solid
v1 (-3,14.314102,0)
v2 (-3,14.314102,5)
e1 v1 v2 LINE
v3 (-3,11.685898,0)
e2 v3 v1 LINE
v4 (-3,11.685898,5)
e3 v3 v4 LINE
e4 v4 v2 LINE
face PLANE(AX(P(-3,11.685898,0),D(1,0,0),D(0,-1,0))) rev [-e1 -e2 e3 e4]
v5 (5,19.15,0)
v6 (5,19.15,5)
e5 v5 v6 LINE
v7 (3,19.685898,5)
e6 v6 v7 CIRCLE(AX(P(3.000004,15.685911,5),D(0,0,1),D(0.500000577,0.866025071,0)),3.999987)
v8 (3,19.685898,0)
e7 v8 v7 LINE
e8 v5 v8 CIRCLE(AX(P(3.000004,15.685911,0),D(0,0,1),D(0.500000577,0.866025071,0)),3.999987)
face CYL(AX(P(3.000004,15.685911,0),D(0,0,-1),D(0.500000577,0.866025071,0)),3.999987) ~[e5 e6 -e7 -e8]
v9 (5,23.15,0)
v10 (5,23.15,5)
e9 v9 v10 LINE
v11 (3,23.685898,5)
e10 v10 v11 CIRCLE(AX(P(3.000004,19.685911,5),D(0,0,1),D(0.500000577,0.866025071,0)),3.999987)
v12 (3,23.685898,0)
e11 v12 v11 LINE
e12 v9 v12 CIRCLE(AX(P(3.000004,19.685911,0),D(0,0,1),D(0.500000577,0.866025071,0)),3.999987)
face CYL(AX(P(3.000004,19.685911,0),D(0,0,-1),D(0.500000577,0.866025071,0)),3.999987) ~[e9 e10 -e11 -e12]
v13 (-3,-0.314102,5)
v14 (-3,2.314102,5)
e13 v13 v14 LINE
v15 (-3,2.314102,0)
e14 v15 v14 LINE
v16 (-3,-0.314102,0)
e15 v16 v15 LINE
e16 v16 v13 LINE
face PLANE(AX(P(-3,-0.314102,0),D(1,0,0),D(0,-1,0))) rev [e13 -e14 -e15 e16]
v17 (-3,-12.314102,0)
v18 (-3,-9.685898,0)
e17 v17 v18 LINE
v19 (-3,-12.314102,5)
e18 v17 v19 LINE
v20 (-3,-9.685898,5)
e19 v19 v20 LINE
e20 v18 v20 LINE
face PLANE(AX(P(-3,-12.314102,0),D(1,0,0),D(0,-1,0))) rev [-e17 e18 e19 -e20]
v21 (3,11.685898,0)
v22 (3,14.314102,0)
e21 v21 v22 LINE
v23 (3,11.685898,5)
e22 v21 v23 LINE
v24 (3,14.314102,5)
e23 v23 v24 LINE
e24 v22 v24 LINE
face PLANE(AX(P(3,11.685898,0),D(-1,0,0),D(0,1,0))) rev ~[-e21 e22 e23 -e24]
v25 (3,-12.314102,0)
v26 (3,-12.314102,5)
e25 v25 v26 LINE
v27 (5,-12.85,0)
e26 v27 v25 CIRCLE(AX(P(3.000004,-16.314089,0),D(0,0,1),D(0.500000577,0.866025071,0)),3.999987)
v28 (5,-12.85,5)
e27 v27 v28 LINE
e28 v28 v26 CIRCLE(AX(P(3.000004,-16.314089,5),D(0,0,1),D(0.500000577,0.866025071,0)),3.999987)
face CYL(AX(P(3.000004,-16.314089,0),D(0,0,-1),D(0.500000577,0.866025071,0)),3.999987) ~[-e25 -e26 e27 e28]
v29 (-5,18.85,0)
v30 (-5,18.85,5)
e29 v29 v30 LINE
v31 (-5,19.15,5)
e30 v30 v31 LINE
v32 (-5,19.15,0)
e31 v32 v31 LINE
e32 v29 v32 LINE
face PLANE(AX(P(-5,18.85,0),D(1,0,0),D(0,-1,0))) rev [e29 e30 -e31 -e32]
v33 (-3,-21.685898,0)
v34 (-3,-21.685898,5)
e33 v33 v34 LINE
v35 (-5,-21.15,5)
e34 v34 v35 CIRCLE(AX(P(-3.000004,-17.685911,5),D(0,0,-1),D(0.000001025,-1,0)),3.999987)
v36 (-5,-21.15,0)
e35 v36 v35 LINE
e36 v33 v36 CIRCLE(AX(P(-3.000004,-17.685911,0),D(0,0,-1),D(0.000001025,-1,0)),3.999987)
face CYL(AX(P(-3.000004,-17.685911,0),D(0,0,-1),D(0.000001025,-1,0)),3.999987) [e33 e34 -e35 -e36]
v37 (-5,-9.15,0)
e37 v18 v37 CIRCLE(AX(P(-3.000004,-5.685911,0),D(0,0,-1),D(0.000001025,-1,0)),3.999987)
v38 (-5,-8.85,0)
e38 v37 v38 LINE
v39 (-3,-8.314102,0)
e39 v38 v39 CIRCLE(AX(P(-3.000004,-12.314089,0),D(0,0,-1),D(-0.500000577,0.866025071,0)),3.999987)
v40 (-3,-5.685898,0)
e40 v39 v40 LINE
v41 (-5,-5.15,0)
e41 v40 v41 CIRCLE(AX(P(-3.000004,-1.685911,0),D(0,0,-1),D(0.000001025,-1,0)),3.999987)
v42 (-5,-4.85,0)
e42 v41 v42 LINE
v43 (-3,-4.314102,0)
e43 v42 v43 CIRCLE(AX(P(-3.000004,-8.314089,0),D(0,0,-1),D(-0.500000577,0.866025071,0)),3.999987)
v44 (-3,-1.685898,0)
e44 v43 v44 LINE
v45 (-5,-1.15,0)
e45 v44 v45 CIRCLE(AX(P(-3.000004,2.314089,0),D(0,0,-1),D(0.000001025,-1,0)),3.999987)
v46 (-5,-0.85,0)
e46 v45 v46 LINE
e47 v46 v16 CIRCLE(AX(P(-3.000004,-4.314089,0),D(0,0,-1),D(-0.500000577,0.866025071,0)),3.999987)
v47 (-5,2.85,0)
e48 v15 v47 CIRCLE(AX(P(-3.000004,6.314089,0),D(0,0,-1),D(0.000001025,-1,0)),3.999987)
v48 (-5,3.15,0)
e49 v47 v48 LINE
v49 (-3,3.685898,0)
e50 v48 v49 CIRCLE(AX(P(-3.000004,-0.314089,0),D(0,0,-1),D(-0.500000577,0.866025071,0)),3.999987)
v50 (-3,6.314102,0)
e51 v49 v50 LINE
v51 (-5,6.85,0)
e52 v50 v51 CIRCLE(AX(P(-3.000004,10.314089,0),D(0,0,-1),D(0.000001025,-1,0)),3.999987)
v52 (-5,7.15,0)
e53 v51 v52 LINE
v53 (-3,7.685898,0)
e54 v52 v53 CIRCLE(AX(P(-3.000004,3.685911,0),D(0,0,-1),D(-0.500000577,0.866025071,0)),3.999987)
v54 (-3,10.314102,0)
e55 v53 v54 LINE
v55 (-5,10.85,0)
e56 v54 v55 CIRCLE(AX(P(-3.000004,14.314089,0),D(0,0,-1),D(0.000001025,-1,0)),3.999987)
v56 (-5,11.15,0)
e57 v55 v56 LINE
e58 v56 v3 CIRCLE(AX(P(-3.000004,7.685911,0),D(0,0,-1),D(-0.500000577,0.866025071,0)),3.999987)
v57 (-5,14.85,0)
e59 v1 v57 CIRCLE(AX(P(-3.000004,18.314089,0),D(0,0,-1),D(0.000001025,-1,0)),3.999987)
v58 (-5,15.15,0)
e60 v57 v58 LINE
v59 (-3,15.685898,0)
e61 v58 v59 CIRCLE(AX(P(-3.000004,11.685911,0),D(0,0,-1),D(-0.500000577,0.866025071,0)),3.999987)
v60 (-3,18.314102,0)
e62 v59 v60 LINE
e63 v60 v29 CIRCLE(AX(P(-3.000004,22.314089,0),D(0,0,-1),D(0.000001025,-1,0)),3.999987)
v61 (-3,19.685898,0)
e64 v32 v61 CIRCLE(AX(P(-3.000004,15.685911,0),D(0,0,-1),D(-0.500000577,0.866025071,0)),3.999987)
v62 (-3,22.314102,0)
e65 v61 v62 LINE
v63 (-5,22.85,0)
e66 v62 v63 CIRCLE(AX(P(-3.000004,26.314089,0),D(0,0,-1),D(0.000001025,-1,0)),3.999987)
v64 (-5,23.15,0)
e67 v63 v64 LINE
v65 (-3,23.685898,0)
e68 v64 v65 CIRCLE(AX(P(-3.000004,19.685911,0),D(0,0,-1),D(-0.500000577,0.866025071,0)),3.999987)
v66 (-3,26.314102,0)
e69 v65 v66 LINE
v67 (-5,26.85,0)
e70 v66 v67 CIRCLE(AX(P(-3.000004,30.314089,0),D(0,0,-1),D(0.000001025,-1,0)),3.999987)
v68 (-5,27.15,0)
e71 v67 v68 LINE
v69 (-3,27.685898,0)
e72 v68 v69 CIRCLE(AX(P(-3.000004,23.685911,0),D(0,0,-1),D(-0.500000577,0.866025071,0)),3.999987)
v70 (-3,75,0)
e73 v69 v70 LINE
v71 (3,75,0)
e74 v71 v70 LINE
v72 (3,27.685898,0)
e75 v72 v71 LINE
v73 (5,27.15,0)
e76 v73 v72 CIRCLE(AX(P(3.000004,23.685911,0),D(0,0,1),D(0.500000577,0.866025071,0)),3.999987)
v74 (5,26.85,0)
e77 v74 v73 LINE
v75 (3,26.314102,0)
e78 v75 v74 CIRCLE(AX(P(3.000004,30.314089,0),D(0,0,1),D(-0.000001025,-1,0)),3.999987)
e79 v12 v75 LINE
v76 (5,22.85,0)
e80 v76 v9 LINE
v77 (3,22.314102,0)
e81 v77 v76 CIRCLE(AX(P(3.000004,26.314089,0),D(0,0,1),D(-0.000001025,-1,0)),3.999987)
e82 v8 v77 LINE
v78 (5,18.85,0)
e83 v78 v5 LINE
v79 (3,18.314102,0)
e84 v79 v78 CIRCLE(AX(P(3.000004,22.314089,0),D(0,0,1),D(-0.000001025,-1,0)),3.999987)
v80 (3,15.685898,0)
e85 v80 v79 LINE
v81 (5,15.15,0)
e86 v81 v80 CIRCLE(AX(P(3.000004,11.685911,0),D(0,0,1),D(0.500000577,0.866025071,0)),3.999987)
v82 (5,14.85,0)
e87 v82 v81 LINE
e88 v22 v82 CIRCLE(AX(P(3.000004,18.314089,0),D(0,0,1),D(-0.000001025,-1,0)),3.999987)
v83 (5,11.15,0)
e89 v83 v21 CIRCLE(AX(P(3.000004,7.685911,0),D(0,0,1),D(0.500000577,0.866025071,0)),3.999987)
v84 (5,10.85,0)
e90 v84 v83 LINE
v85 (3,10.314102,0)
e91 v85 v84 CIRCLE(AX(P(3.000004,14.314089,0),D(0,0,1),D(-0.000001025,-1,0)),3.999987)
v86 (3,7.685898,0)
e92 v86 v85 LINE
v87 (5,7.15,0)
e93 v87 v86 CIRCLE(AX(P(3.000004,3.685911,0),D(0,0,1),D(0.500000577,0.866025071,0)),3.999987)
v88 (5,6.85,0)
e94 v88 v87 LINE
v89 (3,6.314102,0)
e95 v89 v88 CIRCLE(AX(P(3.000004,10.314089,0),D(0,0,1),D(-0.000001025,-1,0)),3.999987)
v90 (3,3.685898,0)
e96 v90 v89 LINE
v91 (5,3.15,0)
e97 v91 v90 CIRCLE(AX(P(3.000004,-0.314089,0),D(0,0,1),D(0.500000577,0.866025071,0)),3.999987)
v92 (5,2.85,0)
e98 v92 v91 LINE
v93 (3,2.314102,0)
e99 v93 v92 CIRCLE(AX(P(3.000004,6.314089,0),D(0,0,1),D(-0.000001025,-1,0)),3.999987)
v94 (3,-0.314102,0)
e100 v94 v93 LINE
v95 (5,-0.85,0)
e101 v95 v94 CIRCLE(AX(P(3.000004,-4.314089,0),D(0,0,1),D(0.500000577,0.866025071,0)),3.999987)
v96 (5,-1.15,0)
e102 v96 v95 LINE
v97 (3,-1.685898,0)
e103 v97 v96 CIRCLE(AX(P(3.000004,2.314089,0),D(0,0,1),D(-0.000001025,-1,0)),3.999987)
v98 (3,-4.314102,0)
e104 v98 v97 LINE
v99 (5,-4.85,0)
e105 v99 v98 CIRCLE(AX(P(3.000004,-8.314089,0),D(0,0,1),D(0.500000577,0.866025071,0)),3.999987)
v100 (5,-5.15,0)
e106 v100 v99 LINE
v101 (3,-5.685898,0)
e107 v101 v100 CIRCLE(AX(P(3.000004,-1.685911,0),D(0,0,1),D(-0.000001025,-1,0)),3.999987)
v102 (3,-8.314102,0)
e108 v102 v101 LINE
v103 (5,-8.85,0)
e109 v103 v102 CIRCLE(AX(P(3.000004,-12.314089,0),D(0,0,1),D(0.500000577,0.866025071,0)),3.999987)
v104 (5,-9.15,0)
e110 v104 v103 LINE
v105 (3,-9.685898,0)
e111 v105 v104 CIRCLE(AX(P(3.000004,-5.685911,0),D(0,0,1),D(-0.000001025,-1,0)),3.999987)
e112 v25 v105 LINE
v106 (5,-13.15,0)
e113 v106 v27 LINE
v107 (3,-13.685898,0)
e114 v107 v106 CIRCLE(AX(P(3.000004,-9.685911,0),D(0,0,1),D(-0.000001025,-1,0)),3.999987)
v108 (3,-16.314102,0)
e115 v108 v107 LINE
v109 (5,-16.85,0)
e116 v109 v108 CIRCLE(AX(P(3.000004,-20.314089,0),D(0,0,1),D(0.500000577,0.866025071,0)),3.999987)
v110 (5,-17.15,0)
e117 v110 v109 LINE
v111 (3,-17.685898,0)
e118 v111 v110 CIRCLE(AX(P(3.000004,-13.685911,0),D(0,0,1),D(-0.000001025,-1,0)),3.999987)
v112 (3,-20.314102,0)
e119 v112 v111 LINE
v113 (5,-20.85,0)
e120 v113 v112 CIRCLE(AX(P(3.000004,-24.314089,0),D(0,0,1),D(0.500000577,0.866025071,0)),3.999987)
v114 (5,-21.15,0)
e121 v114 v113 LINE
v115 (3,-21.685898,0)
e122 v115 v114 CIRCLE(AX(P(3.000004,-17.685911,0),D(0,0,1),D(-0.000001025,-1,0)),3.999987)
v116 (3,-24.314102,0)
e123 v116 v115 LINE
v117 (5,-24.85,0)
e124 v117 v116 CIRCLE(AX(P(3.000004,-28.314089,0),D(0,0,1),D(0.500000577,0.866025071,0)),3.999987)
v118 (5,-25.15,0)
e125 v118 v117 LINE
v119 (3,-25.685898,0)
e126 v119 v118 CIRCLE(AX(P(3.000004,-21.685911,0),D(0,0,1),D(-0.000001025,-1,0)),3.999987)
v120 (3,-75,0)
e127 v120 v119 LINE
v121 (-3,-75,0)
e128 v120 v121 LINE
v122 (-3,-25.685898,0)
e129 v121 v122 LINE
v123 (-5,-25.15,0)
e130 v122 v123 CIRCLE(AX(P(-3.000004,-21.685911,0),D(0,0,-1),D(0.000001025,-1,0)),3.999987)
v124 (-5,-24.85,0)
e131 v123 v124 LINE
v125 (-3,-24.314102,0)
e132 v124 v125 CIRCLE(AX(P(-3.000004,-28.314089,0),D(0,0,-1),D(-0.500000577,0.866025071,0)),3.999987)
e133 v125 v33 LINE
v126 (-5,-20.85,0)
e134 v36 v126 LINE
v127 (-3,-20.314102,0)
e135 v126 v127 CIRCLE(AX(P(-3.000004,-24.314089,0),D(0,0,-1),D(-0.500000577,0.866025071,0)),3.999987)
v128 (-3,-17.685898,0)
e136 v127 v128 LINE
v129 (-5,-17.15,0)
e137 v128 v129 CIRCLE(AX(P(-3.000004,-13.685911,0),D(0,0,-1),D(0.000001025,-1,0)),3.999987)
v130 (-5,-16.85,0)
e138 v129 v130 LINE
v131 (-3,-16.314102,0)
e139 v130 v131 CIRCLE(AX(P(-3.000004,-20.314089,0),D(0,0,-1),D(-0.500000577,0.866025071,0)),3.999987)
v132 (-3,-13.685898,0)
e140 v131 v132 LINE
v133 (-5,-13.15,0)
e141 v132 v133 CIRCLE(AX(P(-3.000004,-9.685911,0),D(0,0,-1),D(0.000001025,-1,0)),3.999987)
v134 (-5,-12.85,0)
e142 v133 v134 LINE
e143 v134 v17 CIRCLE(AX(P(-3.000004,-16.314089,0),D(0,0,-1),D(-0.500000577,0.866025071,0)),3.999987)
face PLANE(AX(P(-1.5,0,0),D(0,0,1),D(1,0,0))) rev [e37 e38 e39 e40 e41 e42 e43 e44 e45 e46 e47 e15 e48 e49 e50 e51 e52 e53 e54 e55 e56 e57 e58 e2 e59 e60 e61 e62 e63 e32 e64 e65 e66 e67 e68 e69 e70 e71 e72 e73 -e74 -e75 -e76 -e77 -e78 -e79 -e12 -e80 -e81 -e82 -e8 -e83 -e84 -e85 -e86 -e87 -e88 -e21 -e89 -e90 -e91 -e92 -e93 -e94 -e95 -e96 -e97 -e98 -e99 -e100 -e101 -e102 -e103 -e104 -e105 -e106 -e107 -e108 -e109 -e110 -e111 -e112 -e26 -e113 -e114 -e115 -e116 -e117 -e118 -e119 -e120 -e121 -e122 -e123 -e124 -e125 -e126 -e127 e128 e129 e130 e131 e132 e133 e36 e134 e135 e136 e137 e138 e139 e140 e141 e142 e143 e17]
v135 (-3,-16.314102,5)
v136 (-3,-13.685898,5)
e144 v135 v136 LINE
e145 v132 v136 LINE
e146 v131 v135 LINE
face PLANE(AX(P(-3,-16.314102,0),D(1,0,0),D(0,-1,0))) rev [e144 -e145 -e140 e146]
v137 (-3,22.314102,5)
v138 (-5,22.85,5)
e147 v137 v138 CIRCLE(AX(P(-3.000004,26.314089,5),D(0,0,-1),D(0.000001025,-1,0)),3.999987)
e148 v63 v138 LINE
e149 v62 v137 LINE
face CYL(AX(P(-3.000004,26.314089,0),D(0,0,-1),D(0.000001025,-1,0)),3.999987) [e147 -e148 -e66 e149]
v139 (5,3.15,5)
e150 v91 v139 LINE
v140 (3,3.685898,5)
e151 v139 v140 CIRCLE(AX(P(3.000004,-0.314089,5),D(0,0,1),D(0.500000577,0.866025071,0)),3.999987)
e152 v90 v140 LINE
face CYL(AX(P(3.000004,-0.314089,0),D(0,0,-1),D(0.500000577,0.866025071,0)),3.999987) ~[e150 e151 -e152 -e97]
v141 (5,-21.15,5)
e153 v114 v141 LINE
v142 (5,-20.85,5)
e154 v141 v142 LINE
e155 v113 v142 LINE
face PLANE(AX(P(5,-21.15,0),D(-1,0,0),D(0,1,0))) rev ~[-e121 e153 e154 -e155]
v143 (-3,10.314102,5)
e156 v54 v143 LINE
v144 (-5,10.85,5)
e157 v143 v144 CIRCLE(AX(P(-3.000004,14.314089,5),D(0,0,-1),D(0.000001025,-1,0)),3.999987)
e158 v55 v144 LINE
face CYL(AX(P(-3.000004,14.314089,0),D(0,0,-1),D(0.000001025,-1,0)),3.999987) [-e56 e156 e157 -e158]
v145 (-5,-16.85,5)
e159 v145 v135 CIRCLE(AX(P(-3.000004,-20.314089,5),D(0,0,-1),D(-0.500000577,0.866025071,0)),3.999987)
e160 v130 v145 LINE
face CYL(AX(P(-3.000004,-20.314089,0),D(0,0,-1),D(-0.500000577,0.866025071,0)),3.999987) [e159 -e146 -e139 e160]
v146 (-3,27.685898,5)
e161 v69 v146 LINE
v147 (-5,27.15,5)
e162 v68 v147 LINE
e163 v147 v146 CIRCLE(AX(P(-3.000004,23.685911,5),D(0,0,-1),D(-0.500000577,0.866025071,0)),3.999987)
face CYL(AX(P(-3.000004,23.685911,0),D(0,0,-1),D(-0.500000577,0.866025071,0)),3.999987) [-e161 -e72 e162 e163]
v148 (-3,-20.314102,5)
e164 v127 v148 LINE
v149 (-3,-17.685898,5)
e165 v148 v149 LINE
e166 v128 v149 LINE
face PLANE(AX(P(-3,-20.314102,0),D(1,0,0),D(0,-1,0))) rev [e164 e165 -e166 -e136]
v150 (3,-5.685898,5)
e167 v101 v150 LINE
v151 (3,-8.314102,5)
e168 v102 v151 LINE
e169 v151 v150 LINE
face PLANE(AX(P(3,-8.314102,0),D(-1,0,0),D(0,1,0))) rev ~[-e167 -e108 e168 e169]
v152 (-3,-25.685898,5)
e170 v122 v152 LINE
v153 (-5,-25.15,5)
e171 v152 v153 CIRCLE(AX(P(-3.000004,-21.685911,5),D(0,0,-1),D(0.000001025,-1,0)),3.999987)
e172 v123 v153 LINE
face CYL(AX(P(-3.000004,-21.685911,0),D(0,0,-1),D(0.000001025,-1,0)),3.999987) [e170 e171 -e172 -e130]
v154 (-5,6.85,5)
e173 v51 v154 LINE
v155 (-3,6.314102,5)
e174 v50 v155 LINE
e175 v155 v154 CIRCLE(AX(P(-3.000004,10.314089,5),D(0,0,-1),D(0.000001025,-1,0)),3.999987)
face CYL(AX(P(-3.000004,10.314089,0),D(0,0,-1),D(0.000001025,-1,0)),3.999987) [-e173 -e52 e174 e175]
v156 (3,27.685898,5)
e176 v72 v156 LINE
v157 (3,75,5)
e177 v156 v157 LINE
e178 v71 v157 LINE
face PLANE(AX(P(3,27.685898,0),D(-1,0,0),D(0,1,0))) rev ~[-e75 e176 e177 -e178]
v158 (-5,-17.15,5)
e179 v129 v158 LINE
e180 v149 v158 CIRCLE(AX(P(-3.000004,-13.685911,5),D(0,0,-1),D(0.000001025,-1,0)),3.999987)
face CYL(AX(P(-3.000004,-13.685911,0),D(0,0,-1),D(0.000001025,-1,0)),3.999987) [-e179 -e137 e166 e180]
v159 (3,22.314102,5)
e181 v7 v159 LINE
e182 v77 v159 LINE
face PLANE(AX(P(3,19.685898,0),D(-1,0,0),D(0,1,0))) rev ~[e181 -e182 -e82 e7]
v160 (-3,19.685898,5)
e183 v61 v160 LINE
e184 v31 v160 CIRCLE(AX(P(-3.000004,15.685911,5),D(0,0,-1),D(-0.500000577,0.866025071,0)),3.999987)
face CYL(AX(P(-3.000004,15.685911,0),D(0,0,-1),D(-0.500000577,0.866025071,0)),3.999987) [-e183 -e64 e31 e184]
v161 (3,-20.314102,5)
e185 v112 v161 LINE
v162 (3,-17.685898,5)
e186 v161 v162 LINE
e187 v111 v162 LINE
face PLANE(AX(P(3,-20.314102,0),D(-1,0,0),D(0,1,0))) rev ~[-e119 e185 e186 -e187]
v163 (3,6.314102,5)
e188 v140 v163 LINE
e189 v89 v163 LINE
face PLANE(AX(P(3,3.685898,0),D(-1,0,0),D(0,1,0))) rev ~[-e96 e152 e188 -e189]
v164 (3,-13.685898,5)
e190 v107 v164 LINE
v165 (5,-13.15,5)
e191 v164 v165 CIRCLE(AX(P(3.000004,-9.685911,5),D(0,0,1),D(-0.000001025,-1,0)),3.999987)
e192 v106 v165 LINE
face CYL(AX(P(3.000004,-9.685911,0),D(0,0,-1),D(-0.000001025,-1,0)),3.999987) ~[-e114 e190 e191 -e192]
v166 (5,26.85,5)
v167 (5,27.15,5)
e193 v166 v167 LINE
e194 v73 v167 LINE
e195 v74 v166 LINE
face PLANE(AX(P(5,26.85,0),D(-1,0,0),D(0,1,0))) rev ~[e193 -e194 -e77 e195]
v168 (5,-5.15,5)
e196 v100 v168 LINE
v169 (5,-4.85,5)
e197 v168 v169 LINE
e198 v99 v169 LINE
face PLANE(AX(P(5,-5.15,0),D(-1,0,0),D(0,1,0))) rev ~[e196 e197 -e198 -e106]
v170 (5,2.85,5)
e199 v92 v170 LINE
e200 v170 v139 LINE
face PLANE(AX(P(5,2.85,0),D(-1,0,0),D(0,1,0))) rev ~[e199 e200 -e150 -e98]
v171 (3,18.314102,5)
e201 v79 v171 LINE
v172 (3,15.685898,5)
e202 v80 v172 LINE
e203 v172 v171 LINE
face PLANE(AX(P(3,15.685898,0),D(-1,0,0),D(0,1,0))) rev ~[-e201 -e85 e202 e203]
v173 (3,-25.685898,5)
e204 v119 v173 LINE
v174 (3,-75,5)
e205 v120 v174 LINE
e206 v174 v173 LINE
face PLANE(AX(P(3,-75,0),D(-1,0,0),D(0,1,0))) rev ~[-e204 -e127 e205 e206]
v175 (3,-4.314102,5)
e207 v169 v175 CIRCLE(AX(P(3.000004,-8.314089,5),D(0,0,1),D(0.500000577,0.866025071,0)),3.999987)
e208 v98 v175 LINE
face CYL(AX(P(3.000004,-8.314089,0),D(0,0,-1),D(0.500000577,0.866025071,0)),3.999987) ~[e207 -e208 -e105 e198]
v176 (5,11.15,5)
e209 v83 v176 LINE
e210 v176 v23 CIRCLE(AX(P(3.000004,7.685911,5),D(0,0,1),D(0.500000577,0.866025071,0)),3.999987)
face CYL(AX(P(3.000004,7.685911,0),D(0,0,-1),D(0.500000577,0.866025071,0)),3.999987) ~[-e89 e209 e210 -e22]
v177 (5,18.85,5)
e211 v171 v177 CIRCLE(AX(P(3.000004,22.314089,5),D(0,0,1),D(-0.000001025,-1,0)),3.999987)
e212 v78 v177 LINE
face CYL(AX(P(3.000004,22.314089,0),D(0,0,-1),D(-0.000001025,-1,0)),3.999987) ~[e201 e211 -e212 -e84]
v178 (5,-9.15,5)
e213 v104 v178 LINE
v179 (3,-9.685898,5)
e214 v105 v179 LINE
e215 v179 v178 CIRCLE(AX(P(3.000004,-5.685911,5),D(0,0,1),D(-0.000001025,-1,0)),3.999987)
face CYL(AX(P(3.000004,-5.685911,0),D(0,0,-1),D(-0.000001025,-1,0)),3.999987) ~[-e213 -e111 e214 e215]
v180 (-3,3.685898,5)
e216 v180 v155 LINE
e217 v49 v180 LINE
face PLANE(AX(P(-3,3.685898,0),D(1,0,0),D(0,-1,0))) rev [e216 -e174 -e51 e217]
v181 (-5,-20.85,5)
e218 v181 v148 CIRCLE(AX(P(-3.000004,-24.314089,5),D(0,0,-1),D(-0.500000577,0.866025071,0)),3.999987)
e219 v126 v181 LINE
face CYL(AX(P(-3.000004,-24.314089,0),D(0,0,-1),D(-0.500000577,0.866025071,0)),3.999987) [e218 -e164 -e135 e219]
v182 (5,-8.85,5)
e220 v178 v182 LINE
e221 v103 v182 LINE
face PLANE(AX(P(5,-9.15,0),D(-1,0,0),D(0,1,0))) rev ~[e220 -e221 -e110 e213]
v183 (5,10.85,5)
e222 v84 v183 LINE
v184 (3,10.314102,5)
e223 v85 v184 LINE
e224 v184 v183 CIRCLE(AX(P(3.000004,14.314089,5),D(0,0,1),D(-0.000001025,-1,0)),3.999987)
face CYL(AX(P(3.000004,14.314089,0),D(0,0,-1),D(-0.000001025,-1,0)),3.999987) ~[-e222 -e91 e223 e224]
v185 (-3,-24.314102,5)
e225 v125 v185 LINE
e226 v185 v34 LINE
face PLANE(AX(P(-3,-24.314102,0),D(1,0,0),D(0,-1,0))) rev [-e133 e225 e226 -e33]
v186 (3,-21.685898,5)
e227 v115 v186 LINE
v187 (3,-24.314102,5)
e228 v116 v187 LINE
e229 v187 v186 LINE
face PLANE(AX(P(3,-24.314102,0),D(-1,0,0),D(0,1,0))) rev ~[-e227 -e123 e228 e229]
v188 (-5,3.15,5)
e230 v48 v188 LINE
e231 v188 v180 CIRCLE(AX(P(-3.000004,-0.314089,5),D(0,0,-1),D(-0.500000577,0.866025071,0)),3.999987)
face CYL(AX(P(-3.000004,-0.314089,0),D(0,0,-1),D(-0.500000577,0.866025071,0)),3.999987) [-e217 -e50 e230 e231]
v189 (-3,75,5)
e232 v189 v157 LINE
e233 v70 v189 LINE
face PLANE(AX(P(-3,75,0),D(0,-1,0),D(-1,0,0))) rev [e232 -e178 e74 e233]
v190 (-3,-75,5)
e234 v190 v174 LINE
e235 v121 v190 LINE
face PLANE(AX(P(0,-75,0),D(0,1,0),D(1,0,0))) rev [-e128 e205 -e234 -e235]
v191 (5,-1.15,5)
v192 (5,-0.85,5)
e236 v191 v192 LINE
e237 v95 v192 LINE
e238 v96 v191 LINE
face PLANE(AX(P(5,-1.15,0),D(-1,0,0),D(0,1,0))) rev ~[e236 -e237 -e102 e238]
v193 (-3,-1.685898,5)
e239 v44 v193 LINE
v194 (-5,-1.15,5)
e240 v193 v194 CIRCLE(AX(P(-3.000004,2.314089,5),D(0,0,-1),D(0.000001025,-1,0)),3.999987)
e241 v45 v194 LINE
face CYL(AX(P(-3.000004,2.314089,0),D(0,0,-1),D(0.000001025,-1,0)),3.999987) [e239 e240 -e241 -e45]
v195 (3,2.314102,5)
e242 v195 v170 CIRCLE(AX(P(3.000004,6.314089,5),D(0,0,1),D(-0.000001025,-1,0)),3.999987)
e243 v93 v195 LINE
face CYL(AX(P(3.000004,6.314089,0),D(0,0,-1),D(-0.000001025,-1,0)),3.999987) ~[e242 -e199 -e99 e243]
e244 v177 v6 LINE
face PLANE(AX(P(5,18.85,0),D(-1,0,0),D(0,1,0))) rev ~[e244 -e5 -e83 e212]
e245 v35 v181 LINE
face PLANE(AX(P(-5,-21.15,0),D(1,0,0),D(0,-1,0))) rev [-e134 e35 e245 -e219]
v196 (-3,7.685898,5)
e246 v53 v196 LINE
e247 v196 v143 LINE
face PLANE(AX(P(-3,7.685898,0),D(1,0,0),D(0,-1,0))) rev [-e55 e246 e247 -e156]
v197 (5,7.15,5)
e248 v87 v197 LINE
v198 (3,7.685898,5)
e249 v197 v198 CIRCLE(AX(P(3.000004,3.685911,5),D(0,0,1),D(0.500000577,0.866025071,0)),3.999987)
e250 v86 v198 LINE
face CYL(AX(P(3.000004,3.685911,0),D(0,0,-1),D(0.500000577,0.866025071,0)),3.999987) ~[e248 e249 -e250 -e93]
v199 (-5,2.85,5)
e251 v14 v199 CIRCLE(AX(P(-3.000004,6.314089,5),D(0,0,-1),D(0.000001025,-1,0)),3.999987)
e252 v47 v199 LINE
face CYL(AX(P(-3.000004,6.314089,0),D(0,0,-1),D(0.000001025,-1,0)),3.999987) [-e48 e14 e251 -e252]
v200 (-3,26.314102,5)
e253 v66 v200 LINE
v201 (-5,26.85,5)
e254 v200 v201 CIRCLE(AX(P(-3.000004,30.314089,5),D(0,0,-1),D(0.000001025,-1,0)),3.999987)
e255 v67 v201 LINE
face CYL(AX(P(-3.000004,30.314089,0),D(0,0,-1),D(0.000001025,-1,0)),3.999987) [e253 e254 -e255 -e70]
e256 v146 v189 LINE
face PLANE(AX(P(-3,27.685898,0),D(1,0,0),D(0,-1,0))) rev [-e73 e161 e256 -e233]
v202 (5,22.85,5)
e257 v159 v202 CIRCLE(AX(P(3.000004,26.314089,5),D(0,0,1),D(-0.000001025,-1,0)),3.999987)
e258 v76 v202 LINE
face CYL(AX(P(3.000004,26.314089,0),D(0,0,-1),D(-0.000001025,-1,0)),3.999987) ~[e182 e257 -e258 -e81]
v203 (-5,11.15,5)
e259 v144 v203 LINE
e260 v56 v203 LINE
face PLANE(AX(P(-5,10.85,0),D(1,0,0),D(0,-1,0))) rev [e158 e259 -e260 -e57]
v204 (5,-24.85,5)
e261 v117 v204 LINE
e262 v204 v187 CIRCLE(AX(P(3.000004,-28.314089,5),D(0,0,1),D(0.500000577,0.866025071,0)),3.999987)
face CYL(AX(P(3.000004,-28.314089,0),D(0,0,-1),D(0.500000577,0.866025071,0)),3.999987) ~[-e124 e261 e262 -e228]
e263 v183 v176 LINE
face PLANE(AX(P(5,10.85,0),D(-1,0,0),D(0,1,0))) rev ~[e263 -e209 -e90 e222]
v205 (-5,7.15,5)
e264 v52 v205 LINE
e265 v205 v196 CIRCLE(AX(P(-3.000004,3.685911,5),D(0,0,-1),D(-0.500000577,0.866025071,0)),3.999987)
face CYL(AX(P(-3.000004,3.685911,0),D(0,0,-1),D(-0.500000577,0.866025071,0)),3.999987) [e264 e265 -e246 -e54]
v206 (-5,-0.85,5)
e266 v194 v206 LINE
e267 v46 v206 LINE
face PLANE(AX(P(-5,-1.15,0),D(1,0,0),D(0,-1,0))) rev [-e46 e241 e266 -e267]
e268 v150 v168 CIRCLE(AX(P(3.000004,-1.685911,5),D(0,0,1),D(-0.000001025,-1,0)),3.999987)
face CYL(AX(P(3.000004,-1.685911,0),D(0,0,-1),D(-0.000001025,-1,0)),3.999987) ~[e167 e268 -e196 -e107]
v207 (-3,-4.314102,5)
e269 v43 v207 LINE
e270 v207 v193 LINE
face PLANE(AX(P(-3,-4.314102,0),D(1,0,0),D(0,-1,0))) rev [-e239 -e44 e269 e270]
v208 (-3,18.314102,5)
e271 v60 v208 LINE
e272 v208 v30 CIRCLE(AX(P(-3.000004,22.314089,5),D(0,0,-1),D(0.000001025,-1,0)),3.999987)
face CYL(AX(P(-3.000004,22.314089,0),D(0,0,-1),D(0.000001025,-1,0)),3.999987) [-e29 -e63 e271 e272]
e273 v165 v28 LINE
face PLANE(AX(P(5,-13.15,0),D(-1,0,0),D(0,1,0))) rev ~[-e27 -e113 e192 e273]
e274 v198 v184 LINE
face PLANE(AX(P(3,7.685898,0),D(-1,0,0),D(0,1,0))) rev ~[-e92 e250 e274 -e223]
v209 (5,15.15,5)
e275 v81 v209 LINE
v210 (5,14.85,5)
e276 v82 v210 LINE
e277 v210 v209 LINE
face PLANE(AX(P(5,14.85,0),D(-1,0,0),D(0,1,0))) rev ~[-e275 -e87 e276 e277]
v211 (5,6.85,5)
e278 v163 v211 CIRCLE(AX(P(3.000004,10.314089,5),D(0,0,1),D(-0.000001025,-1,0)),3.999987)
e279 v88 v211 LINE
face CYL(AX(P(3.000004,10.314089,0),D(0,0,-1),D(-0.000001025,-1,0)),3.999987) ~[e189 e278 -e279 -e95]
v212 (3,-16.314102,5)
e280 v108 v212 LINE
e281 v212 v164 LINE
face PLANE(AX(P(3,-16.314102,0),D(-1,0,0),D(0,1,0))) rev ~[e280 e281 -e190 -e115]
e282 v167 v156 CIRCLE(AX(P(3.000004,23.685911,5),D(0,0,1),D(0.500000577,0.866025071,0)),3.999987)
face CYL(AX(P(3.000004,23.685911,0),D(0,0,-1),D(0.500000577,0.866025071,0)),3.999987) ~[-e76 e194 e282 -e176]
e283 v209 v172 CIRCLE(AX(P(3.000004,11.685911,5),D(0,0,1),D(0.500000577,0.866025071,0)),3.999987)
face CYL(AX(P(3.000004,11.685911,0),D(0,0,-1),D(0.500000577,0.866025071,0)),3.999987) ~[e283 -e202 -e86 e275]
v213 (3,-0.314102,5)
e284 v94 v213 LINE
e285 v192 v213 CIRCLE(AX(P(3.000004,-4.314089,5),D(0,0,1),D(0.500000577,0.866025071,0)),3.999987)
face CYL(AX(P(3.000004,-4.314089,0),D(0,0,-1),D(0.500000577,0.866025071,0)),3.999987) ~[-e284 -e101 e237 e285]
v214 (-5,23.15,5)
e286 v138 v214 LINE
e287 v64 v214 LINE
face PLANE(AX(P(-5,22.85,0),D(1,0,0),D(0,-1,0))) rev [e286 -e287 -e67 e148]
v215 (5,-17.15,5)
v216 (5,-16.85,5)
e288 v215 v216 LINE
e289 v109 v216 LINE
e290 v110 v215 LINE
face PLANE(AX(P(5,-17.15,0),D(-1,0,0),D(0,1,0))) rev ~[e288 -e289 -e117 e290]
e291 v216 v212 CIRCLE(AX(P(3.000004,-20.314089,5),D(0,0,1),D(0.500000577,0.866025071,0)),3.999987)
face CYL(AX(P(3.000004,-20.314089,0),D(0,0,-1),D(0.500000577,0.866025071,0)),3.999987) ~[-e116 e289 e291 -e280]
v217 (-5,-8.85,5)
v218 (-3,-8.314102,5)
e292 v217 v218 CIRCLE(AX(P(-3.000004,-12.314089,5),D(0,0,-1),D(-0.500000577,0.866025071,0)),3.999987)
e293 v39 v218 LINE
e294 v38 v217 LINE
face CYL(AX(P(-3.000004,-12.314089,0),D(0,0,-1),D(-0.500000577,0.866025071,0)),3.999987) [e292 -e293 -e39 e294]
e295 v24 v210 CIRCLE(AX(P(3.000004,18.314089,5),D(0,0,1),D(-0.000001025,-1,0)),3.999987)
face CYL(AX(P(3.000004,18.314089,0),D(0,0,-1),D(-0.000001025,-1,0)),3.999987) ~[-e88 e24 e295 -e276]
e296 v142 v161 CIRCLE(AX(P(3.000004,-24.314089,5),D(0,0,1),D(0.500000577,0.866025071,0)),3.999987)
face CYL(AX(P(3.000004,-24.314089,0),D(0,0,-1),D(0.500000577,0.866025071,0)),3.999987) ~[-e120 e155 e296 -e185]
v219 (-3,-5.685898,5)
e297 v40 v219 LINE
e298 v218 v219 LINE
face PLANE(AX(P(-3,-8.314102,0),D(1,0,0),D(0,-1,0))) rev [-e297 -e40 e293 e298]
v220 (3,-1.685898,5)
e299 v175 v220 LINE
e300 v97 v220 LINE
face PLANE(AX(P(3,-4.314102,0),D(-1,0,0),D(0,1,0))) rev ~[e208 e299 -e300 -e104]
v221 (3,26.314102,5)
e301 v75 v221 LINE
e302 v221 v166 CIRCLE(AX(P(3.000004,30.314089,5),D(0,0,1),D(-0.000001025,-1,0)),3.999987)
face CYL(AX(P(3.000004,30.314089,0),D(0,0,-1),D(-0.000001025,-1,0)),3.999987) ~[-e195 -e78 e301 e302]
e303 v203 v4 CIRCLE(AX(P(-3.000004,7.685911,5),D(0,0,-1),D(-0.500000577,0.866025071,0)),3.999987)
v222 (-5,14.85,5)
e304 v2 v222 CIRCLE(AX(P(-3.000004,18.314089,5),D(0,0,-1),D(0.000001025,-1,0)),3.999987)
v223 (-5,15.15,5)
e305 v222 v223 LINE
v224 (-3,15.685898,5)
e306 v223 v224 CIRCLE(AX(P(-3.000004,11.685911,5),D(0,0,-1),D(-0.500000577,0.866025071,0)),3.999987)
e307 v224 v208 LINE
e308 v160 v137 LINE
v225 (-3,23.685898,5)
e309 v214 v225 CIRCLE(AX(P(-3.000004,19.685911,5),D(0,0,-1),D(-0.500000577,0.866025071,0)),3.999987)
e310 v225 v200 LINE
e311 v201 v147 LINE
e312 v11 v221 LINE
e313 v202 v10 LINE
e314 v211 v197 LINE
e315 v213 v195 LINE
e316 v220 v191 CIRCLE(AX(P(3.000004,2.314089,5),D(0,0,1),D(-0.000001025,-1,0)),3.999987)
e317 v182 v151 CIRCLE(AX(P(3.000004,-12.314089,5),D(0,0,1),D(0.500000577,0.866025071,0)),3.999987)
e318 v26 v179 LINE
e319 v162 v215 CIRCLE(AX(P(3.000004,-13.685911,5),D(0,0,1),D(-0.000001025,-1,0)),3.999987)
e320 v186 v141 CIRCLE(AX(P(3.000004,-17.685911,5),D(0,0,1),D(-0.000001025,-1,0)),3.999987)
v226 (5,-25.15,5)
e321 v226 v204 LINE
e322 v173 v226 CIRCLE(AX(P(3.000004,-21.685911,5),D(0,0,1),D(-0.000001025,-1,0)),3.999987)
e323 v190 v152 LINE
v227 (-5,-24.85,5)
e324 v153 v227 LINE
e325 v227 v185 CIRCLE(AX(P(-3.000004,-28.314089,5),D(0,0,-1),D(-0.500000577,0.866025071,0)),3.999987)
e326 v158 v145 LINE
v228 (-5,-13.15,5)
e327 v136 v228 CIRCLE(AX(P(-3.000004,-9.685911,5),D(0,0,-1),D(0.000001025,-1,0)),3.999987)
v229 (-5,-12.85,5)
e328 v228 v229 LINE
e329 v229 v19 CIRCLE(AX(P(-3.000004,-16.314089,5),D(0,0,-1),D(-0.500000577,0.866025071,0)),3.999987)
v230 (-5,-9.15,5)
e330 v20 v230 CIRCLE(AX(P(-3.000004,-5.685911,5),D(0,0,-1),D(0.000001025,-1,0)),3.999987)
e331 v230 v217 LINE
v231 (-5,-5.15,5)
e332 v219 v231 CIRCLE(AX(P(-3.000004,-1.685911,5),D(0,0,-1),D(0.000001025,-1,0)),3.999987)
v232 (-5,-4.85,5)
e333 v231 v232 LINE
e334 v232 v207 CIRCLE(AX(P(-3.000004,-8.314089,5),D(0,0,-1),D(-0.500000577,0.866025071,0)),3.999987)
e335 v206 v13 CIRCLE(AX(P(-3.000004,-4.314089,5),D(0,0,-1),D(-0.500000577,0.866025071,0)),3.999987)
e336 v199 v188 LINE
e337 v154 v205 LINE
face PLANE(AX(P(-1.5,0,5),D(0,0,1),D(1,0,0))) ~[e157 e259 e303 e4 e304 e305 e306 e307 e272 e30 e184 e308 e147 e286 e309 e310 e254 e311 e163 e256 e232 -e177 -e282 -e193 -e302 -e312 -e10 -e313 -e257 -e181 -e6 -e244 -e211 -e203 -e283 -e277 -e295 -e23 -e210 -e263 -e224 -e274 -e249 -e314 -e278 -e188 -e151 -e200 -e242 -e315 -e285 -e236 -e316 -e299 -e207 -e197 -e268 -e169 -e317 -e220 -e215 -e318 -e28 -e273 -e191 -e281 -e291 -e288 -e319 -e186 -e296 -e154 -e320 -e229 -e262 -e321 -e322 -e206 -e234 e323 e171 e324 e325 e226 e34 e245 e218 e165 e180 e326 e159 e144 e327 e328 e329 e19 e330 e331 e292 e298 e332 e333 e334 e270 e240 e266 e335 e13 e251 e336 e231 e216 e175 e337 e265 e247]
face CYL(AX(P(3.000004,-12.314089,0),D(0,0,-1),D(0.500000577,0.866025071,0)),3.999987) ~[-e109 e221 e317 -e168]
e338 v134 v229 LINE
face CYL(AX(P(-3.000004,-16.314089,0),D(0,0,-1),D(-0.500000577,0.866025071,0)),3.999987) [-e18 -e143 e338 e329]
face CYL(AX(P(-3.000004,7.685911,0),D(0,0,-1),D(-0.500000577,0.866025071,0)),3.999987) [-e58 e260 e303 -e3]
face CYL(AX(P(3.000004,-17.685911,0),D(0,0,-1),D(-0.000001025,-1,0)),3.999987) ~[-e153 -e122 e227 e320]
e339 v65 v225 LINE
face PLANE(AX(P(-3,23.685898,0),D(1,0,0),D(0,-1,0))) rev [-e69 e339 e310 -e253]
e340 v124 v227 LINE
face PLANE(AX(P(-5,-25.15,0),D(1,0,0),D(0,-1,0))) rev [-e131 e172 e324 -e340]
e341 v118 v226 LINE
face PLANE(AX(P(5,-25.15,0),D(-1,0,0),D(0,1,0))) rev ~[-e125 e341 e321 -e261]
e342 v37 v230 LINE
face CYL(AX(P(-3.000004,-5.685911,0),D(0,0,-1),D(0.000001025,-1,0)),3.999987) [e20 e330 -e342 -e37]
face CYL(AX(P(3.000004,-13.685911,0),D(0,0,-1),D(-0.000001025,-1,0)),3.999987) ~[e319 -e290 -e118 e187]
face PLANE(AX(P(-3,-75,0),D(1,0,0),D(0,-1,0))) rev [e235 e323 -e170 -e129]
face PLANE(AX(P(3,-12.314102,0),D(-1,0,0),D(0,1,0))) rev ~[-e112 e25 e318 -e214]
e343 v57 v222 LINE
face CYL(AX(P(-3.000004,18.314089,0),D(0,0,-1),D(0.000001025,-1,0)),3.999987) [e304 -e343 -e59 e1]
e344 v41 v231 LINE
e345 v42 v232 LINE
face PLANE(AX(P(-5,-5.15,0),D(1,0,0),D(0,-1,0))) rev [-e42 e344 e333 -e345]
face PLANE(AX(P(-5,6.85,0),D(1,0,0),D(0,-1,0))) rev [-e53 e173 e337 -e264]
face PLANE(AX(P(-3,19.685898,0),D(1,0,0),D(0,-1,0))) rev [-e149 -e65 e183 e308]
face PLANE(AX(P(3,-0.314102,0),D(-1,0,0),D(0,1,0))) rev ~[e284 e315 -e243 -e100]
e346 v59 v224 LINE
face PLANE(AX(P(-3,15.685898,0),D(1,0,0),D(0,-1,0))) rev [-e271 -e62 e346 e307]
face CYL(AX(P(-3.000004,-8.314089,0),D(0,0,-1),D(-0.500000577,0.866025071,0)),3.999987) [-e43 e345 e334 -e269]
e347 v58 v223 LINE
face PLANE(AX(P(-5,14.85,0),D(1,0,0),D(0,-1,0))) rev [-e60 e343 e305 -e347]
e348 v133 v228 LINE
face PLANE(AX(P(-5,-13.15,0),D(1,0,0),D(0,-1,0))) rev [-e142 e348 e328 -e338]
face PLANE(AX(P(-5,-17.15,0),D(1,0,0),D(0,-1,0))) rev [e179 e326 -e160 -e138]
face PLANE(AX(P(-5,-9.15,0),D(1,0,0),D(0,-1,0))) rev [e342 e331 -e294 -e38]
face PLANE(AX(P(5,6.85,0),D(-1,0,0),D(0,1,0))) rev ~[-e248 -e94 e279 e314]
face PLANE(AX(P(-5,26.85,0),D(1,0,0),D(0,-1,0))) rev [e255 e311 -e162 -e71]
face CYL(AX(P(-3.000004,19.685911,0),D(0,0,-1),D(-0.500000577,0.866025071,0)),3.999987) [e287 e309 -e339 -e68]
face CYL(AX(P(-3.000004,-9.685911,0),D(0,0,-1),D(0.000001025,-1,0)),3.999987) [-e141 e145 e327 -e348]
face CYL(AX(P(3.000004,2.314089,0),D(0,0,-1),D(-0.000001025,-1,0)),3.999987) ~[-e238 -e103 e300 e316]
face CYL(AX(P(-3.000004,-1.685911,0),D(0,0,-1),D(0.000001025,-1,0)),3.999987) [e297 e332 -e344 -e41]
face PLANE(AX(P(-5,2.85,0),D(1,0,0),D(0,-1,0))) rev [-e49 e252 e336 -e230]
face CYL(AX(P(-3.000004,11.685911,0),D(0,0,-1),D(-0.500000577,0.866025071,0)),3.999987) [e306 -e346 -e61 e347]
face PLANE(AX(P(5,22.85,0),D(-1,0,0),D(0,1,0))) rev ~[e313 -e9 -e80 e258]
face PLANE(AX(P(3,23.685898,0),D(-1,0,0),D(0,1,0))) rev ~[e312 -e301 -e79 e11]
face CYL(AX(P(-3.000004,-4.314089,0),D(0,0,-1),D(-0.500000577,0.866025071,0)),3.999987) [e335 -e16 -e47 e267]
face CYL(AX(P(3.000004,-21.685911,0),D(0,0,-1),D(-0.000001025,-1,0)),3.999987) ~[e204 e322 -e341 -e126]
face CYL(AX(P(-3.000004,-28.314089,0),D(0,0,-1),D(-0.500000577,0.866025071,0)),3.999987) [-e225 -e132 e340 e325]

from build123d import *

# Parameters (mm, degrees)
F1_DEPTH = 5


with BuildPart() as f1:
    # F0 (on Top) → F1 (new body)
    with BuildSketch(Plane.XY):
        Polygon((3, 75), (0, 75), (0, -75), (3, -75), (3, -25.685898), (3, -24.314102), (3, -21.685898), (3, -20.314102), (3, -17.685898), (3, -16.314102), (3, -13.685898), (3, -12.314102), (3, -9.685898), (3, -8.314102), (3, -5.685898), (3, -4.314102), (3, -1.685898), (3, -0.314102), (3, 2.314102), (3, 3.685898), (3, 6.314102), (3, 7.685898), (3, 10.314102), (3, 11.685898), (3, 14.314102), (3, 15.685898), (3, 18.314102), (3, 19.685898), (3, 22.314102), (3, 23.685898), (3, 26.314102), (3, 27.685898), align=None)
        with BuildLine():
            ThreePointArc((5, 27.15), (4.035276, 27.549602), (3, 27.685898))
            Line((3, 27.685898), (3, 26.314102))
            ThreePointArc((3, 26.314102), (4.035276, 26.450398), (5, 26.85))
            Line((5, 26.85), (5, 27))
            Line((5, 27), (5, 27.15))
        make_face()
        with BuildLine():
            Line((3, -24.314102), (3, -25.685898))
            ThreePointArc((3, -25.685898), (4.035276, -25.549602), (5, -25.15))
            Line((5, -25.15), (5, -25))
            Line((5, -25), (5, -24.85))
            ThreePointArc((5, -24.85), (4.035276, -24.450398), (3, -24.314102))
        make_face()
        with BuildLine():
            ThreePointArc((5, 23.15), (4.035276, 23.549602), (3, 23.685898))
            Line((3, 23.685898), (3, 22.314102))
            ThreePointArc((3, 22.314102), (4.035276, 22.450398), (5, 22.85))
            Line((5, 22.85), (5, 23))
            Line((5, 23), (5, 23.15))
        make_face()
        with BuildLine():
            Line((3, -20.314102), (3, -21.685898))
            ThreePointArc((3, -21.685898), (4.035276, -21.549602), (5, -21.15))
            Line((5, -21.15), (5, -21))
            Line((5, -21), (5, -20.85))
            ThreePointArc((5, -20.85), (4.035276, -20.450398), (3, -20.314102))
        make_face()
        with BuildLine():
            ThreePointArc((5, 19.15), (4.035276, 19.549602), (3, 19.685898))
            Line((3, 19.685898), (3, 18.314102))
            ThreePointArc((3, 18.314102), (4.035276, 18.450398), (5, 18.85))
            Line((5, 18.85), (5, 19))
            Line((5, 19), (5, 19.15))
        make_face()
        with BuildLine():
            Line((3, -16.314102), (3, -17.685898))
            ThreePointArc((3, -17.685898), (4.035276, -17.549602), (5, -17.15))
            Line((5, -17.15), (5, -17))
            Line((5, -17), (5, -16.85))
            ThreePointArc((5, -16.85), (4.035276, -16.450398), (3, -16.314102))
        make_face()
        with BuildLine():
            ThreePointArc((5, 15.15), (4.035276, 15.549602), (3, 15.685898))
            Line((3, 15.685898), (3, 14.314102))
            ThreePointArc((3, 14.314102), (4.035276, 14.450398), (5, 14.85))
            Line((5, 14.85), (5, 15))
            Line((5, 15), (5, 15.15))
        make_face()
        with BuildLine():
            Line((3, -12.314102), (3, -13.685898))
            ThreePointArc((3, -13.685898), (4.035276, -13.549602), (5, -13.15))
            Line((5, -13.15), (5, -13))
            Line((5, -13), (5, -12.85))
            ThreePointArc((5, -12.85), (4.035276, -12.450398), (3, -12.314102))
        make_face()
        with BuildLine():
            ThreePointArc((5, 11.15), (4.035276, 11.549602), (3, 11.685898))
            Line((3, 11.685898), (3, 10.314102))
            ThreePointArc((3, 10.314102), (4.035276, 10.450398), (5, 10.85))
            Line((5, 10.85), (5, 11))
            Line((5, 11), (5, 11.15))
        make_face()
        with BuildLine():
            Line((3, -8.314102), (3, -9.685898))
            ThreePointArc((3, -9.685898), (4.035276, -9.549602), (5, -9.15))
            Line((5, -9.15), (5, -9))
            Line((5, -9), (5, -8.85))
            ThreePointArc((5, -8.85), (4.035276, -8.450398), (3, -8.314102))
        make_face()
        with BuildLine():
            ThreePointArc((5, 7.15), (4.035276, 7.549602), (3, 7.685898))
            Line((3, 7.685898), (3, 6.314102))
            ThreePointArc((3, 6.314102), (4.035276, 6.450398), (5, 6.85))
            Line((5, 6.85), (5, 7))
            Line((5, 7), (5, 7.15))
        make_face()
        with BuildLine():
            Line((3, -4.314102), (3, -5.685898))
            ThreePointArc((3, -5.685898), (4.035276, -5.549602), (5, -5.15))
            Line((5, -5.15), (5, -5))
            Line((5, -5), (5, -4.85))
            ThreePointArc((5, -4.85), (4.035276, -4.450398), (3, -4.314102))
        make_face()
        with BuildLine():
            ThreePointArc((5, 3.15), (4.035276, 3.549602), (3, 3.685898))
            Line((3, 3.685898), (3, 2.314102))
            ThreePointArc((3, 2.314102), (4.035276, 2.450398), (5, 2.85))
            Line((5, 2.85), (5, 3))
            Line((5, 3), (5, 3.15))
        make_face()
        with BuildLine():
            Line((3, -0.314102), (3, -1.685898))
            ThreePointArc((3, -1.685898), (4.035276, -1.549602), (5, -1.15))
            Line((5, -1.15), (5, -1))
            Line((5, -1), (5, -0.85))
            ThreePointArc((5, -0.85), (4.035276, -0.450398), (3, -0.314102))
        make_face()
    extrude(amount=F1_DEPTH)

    # F2: F1 across face


with BuildPart() as f1_1:
    add(f1.part)
    add(f1.part.mirror(Plane(origin=(0, 0, 2.5), x_dir=(0, -1, 0), z_dir=(-1, 0, 0))))


solid = f1_1.part
